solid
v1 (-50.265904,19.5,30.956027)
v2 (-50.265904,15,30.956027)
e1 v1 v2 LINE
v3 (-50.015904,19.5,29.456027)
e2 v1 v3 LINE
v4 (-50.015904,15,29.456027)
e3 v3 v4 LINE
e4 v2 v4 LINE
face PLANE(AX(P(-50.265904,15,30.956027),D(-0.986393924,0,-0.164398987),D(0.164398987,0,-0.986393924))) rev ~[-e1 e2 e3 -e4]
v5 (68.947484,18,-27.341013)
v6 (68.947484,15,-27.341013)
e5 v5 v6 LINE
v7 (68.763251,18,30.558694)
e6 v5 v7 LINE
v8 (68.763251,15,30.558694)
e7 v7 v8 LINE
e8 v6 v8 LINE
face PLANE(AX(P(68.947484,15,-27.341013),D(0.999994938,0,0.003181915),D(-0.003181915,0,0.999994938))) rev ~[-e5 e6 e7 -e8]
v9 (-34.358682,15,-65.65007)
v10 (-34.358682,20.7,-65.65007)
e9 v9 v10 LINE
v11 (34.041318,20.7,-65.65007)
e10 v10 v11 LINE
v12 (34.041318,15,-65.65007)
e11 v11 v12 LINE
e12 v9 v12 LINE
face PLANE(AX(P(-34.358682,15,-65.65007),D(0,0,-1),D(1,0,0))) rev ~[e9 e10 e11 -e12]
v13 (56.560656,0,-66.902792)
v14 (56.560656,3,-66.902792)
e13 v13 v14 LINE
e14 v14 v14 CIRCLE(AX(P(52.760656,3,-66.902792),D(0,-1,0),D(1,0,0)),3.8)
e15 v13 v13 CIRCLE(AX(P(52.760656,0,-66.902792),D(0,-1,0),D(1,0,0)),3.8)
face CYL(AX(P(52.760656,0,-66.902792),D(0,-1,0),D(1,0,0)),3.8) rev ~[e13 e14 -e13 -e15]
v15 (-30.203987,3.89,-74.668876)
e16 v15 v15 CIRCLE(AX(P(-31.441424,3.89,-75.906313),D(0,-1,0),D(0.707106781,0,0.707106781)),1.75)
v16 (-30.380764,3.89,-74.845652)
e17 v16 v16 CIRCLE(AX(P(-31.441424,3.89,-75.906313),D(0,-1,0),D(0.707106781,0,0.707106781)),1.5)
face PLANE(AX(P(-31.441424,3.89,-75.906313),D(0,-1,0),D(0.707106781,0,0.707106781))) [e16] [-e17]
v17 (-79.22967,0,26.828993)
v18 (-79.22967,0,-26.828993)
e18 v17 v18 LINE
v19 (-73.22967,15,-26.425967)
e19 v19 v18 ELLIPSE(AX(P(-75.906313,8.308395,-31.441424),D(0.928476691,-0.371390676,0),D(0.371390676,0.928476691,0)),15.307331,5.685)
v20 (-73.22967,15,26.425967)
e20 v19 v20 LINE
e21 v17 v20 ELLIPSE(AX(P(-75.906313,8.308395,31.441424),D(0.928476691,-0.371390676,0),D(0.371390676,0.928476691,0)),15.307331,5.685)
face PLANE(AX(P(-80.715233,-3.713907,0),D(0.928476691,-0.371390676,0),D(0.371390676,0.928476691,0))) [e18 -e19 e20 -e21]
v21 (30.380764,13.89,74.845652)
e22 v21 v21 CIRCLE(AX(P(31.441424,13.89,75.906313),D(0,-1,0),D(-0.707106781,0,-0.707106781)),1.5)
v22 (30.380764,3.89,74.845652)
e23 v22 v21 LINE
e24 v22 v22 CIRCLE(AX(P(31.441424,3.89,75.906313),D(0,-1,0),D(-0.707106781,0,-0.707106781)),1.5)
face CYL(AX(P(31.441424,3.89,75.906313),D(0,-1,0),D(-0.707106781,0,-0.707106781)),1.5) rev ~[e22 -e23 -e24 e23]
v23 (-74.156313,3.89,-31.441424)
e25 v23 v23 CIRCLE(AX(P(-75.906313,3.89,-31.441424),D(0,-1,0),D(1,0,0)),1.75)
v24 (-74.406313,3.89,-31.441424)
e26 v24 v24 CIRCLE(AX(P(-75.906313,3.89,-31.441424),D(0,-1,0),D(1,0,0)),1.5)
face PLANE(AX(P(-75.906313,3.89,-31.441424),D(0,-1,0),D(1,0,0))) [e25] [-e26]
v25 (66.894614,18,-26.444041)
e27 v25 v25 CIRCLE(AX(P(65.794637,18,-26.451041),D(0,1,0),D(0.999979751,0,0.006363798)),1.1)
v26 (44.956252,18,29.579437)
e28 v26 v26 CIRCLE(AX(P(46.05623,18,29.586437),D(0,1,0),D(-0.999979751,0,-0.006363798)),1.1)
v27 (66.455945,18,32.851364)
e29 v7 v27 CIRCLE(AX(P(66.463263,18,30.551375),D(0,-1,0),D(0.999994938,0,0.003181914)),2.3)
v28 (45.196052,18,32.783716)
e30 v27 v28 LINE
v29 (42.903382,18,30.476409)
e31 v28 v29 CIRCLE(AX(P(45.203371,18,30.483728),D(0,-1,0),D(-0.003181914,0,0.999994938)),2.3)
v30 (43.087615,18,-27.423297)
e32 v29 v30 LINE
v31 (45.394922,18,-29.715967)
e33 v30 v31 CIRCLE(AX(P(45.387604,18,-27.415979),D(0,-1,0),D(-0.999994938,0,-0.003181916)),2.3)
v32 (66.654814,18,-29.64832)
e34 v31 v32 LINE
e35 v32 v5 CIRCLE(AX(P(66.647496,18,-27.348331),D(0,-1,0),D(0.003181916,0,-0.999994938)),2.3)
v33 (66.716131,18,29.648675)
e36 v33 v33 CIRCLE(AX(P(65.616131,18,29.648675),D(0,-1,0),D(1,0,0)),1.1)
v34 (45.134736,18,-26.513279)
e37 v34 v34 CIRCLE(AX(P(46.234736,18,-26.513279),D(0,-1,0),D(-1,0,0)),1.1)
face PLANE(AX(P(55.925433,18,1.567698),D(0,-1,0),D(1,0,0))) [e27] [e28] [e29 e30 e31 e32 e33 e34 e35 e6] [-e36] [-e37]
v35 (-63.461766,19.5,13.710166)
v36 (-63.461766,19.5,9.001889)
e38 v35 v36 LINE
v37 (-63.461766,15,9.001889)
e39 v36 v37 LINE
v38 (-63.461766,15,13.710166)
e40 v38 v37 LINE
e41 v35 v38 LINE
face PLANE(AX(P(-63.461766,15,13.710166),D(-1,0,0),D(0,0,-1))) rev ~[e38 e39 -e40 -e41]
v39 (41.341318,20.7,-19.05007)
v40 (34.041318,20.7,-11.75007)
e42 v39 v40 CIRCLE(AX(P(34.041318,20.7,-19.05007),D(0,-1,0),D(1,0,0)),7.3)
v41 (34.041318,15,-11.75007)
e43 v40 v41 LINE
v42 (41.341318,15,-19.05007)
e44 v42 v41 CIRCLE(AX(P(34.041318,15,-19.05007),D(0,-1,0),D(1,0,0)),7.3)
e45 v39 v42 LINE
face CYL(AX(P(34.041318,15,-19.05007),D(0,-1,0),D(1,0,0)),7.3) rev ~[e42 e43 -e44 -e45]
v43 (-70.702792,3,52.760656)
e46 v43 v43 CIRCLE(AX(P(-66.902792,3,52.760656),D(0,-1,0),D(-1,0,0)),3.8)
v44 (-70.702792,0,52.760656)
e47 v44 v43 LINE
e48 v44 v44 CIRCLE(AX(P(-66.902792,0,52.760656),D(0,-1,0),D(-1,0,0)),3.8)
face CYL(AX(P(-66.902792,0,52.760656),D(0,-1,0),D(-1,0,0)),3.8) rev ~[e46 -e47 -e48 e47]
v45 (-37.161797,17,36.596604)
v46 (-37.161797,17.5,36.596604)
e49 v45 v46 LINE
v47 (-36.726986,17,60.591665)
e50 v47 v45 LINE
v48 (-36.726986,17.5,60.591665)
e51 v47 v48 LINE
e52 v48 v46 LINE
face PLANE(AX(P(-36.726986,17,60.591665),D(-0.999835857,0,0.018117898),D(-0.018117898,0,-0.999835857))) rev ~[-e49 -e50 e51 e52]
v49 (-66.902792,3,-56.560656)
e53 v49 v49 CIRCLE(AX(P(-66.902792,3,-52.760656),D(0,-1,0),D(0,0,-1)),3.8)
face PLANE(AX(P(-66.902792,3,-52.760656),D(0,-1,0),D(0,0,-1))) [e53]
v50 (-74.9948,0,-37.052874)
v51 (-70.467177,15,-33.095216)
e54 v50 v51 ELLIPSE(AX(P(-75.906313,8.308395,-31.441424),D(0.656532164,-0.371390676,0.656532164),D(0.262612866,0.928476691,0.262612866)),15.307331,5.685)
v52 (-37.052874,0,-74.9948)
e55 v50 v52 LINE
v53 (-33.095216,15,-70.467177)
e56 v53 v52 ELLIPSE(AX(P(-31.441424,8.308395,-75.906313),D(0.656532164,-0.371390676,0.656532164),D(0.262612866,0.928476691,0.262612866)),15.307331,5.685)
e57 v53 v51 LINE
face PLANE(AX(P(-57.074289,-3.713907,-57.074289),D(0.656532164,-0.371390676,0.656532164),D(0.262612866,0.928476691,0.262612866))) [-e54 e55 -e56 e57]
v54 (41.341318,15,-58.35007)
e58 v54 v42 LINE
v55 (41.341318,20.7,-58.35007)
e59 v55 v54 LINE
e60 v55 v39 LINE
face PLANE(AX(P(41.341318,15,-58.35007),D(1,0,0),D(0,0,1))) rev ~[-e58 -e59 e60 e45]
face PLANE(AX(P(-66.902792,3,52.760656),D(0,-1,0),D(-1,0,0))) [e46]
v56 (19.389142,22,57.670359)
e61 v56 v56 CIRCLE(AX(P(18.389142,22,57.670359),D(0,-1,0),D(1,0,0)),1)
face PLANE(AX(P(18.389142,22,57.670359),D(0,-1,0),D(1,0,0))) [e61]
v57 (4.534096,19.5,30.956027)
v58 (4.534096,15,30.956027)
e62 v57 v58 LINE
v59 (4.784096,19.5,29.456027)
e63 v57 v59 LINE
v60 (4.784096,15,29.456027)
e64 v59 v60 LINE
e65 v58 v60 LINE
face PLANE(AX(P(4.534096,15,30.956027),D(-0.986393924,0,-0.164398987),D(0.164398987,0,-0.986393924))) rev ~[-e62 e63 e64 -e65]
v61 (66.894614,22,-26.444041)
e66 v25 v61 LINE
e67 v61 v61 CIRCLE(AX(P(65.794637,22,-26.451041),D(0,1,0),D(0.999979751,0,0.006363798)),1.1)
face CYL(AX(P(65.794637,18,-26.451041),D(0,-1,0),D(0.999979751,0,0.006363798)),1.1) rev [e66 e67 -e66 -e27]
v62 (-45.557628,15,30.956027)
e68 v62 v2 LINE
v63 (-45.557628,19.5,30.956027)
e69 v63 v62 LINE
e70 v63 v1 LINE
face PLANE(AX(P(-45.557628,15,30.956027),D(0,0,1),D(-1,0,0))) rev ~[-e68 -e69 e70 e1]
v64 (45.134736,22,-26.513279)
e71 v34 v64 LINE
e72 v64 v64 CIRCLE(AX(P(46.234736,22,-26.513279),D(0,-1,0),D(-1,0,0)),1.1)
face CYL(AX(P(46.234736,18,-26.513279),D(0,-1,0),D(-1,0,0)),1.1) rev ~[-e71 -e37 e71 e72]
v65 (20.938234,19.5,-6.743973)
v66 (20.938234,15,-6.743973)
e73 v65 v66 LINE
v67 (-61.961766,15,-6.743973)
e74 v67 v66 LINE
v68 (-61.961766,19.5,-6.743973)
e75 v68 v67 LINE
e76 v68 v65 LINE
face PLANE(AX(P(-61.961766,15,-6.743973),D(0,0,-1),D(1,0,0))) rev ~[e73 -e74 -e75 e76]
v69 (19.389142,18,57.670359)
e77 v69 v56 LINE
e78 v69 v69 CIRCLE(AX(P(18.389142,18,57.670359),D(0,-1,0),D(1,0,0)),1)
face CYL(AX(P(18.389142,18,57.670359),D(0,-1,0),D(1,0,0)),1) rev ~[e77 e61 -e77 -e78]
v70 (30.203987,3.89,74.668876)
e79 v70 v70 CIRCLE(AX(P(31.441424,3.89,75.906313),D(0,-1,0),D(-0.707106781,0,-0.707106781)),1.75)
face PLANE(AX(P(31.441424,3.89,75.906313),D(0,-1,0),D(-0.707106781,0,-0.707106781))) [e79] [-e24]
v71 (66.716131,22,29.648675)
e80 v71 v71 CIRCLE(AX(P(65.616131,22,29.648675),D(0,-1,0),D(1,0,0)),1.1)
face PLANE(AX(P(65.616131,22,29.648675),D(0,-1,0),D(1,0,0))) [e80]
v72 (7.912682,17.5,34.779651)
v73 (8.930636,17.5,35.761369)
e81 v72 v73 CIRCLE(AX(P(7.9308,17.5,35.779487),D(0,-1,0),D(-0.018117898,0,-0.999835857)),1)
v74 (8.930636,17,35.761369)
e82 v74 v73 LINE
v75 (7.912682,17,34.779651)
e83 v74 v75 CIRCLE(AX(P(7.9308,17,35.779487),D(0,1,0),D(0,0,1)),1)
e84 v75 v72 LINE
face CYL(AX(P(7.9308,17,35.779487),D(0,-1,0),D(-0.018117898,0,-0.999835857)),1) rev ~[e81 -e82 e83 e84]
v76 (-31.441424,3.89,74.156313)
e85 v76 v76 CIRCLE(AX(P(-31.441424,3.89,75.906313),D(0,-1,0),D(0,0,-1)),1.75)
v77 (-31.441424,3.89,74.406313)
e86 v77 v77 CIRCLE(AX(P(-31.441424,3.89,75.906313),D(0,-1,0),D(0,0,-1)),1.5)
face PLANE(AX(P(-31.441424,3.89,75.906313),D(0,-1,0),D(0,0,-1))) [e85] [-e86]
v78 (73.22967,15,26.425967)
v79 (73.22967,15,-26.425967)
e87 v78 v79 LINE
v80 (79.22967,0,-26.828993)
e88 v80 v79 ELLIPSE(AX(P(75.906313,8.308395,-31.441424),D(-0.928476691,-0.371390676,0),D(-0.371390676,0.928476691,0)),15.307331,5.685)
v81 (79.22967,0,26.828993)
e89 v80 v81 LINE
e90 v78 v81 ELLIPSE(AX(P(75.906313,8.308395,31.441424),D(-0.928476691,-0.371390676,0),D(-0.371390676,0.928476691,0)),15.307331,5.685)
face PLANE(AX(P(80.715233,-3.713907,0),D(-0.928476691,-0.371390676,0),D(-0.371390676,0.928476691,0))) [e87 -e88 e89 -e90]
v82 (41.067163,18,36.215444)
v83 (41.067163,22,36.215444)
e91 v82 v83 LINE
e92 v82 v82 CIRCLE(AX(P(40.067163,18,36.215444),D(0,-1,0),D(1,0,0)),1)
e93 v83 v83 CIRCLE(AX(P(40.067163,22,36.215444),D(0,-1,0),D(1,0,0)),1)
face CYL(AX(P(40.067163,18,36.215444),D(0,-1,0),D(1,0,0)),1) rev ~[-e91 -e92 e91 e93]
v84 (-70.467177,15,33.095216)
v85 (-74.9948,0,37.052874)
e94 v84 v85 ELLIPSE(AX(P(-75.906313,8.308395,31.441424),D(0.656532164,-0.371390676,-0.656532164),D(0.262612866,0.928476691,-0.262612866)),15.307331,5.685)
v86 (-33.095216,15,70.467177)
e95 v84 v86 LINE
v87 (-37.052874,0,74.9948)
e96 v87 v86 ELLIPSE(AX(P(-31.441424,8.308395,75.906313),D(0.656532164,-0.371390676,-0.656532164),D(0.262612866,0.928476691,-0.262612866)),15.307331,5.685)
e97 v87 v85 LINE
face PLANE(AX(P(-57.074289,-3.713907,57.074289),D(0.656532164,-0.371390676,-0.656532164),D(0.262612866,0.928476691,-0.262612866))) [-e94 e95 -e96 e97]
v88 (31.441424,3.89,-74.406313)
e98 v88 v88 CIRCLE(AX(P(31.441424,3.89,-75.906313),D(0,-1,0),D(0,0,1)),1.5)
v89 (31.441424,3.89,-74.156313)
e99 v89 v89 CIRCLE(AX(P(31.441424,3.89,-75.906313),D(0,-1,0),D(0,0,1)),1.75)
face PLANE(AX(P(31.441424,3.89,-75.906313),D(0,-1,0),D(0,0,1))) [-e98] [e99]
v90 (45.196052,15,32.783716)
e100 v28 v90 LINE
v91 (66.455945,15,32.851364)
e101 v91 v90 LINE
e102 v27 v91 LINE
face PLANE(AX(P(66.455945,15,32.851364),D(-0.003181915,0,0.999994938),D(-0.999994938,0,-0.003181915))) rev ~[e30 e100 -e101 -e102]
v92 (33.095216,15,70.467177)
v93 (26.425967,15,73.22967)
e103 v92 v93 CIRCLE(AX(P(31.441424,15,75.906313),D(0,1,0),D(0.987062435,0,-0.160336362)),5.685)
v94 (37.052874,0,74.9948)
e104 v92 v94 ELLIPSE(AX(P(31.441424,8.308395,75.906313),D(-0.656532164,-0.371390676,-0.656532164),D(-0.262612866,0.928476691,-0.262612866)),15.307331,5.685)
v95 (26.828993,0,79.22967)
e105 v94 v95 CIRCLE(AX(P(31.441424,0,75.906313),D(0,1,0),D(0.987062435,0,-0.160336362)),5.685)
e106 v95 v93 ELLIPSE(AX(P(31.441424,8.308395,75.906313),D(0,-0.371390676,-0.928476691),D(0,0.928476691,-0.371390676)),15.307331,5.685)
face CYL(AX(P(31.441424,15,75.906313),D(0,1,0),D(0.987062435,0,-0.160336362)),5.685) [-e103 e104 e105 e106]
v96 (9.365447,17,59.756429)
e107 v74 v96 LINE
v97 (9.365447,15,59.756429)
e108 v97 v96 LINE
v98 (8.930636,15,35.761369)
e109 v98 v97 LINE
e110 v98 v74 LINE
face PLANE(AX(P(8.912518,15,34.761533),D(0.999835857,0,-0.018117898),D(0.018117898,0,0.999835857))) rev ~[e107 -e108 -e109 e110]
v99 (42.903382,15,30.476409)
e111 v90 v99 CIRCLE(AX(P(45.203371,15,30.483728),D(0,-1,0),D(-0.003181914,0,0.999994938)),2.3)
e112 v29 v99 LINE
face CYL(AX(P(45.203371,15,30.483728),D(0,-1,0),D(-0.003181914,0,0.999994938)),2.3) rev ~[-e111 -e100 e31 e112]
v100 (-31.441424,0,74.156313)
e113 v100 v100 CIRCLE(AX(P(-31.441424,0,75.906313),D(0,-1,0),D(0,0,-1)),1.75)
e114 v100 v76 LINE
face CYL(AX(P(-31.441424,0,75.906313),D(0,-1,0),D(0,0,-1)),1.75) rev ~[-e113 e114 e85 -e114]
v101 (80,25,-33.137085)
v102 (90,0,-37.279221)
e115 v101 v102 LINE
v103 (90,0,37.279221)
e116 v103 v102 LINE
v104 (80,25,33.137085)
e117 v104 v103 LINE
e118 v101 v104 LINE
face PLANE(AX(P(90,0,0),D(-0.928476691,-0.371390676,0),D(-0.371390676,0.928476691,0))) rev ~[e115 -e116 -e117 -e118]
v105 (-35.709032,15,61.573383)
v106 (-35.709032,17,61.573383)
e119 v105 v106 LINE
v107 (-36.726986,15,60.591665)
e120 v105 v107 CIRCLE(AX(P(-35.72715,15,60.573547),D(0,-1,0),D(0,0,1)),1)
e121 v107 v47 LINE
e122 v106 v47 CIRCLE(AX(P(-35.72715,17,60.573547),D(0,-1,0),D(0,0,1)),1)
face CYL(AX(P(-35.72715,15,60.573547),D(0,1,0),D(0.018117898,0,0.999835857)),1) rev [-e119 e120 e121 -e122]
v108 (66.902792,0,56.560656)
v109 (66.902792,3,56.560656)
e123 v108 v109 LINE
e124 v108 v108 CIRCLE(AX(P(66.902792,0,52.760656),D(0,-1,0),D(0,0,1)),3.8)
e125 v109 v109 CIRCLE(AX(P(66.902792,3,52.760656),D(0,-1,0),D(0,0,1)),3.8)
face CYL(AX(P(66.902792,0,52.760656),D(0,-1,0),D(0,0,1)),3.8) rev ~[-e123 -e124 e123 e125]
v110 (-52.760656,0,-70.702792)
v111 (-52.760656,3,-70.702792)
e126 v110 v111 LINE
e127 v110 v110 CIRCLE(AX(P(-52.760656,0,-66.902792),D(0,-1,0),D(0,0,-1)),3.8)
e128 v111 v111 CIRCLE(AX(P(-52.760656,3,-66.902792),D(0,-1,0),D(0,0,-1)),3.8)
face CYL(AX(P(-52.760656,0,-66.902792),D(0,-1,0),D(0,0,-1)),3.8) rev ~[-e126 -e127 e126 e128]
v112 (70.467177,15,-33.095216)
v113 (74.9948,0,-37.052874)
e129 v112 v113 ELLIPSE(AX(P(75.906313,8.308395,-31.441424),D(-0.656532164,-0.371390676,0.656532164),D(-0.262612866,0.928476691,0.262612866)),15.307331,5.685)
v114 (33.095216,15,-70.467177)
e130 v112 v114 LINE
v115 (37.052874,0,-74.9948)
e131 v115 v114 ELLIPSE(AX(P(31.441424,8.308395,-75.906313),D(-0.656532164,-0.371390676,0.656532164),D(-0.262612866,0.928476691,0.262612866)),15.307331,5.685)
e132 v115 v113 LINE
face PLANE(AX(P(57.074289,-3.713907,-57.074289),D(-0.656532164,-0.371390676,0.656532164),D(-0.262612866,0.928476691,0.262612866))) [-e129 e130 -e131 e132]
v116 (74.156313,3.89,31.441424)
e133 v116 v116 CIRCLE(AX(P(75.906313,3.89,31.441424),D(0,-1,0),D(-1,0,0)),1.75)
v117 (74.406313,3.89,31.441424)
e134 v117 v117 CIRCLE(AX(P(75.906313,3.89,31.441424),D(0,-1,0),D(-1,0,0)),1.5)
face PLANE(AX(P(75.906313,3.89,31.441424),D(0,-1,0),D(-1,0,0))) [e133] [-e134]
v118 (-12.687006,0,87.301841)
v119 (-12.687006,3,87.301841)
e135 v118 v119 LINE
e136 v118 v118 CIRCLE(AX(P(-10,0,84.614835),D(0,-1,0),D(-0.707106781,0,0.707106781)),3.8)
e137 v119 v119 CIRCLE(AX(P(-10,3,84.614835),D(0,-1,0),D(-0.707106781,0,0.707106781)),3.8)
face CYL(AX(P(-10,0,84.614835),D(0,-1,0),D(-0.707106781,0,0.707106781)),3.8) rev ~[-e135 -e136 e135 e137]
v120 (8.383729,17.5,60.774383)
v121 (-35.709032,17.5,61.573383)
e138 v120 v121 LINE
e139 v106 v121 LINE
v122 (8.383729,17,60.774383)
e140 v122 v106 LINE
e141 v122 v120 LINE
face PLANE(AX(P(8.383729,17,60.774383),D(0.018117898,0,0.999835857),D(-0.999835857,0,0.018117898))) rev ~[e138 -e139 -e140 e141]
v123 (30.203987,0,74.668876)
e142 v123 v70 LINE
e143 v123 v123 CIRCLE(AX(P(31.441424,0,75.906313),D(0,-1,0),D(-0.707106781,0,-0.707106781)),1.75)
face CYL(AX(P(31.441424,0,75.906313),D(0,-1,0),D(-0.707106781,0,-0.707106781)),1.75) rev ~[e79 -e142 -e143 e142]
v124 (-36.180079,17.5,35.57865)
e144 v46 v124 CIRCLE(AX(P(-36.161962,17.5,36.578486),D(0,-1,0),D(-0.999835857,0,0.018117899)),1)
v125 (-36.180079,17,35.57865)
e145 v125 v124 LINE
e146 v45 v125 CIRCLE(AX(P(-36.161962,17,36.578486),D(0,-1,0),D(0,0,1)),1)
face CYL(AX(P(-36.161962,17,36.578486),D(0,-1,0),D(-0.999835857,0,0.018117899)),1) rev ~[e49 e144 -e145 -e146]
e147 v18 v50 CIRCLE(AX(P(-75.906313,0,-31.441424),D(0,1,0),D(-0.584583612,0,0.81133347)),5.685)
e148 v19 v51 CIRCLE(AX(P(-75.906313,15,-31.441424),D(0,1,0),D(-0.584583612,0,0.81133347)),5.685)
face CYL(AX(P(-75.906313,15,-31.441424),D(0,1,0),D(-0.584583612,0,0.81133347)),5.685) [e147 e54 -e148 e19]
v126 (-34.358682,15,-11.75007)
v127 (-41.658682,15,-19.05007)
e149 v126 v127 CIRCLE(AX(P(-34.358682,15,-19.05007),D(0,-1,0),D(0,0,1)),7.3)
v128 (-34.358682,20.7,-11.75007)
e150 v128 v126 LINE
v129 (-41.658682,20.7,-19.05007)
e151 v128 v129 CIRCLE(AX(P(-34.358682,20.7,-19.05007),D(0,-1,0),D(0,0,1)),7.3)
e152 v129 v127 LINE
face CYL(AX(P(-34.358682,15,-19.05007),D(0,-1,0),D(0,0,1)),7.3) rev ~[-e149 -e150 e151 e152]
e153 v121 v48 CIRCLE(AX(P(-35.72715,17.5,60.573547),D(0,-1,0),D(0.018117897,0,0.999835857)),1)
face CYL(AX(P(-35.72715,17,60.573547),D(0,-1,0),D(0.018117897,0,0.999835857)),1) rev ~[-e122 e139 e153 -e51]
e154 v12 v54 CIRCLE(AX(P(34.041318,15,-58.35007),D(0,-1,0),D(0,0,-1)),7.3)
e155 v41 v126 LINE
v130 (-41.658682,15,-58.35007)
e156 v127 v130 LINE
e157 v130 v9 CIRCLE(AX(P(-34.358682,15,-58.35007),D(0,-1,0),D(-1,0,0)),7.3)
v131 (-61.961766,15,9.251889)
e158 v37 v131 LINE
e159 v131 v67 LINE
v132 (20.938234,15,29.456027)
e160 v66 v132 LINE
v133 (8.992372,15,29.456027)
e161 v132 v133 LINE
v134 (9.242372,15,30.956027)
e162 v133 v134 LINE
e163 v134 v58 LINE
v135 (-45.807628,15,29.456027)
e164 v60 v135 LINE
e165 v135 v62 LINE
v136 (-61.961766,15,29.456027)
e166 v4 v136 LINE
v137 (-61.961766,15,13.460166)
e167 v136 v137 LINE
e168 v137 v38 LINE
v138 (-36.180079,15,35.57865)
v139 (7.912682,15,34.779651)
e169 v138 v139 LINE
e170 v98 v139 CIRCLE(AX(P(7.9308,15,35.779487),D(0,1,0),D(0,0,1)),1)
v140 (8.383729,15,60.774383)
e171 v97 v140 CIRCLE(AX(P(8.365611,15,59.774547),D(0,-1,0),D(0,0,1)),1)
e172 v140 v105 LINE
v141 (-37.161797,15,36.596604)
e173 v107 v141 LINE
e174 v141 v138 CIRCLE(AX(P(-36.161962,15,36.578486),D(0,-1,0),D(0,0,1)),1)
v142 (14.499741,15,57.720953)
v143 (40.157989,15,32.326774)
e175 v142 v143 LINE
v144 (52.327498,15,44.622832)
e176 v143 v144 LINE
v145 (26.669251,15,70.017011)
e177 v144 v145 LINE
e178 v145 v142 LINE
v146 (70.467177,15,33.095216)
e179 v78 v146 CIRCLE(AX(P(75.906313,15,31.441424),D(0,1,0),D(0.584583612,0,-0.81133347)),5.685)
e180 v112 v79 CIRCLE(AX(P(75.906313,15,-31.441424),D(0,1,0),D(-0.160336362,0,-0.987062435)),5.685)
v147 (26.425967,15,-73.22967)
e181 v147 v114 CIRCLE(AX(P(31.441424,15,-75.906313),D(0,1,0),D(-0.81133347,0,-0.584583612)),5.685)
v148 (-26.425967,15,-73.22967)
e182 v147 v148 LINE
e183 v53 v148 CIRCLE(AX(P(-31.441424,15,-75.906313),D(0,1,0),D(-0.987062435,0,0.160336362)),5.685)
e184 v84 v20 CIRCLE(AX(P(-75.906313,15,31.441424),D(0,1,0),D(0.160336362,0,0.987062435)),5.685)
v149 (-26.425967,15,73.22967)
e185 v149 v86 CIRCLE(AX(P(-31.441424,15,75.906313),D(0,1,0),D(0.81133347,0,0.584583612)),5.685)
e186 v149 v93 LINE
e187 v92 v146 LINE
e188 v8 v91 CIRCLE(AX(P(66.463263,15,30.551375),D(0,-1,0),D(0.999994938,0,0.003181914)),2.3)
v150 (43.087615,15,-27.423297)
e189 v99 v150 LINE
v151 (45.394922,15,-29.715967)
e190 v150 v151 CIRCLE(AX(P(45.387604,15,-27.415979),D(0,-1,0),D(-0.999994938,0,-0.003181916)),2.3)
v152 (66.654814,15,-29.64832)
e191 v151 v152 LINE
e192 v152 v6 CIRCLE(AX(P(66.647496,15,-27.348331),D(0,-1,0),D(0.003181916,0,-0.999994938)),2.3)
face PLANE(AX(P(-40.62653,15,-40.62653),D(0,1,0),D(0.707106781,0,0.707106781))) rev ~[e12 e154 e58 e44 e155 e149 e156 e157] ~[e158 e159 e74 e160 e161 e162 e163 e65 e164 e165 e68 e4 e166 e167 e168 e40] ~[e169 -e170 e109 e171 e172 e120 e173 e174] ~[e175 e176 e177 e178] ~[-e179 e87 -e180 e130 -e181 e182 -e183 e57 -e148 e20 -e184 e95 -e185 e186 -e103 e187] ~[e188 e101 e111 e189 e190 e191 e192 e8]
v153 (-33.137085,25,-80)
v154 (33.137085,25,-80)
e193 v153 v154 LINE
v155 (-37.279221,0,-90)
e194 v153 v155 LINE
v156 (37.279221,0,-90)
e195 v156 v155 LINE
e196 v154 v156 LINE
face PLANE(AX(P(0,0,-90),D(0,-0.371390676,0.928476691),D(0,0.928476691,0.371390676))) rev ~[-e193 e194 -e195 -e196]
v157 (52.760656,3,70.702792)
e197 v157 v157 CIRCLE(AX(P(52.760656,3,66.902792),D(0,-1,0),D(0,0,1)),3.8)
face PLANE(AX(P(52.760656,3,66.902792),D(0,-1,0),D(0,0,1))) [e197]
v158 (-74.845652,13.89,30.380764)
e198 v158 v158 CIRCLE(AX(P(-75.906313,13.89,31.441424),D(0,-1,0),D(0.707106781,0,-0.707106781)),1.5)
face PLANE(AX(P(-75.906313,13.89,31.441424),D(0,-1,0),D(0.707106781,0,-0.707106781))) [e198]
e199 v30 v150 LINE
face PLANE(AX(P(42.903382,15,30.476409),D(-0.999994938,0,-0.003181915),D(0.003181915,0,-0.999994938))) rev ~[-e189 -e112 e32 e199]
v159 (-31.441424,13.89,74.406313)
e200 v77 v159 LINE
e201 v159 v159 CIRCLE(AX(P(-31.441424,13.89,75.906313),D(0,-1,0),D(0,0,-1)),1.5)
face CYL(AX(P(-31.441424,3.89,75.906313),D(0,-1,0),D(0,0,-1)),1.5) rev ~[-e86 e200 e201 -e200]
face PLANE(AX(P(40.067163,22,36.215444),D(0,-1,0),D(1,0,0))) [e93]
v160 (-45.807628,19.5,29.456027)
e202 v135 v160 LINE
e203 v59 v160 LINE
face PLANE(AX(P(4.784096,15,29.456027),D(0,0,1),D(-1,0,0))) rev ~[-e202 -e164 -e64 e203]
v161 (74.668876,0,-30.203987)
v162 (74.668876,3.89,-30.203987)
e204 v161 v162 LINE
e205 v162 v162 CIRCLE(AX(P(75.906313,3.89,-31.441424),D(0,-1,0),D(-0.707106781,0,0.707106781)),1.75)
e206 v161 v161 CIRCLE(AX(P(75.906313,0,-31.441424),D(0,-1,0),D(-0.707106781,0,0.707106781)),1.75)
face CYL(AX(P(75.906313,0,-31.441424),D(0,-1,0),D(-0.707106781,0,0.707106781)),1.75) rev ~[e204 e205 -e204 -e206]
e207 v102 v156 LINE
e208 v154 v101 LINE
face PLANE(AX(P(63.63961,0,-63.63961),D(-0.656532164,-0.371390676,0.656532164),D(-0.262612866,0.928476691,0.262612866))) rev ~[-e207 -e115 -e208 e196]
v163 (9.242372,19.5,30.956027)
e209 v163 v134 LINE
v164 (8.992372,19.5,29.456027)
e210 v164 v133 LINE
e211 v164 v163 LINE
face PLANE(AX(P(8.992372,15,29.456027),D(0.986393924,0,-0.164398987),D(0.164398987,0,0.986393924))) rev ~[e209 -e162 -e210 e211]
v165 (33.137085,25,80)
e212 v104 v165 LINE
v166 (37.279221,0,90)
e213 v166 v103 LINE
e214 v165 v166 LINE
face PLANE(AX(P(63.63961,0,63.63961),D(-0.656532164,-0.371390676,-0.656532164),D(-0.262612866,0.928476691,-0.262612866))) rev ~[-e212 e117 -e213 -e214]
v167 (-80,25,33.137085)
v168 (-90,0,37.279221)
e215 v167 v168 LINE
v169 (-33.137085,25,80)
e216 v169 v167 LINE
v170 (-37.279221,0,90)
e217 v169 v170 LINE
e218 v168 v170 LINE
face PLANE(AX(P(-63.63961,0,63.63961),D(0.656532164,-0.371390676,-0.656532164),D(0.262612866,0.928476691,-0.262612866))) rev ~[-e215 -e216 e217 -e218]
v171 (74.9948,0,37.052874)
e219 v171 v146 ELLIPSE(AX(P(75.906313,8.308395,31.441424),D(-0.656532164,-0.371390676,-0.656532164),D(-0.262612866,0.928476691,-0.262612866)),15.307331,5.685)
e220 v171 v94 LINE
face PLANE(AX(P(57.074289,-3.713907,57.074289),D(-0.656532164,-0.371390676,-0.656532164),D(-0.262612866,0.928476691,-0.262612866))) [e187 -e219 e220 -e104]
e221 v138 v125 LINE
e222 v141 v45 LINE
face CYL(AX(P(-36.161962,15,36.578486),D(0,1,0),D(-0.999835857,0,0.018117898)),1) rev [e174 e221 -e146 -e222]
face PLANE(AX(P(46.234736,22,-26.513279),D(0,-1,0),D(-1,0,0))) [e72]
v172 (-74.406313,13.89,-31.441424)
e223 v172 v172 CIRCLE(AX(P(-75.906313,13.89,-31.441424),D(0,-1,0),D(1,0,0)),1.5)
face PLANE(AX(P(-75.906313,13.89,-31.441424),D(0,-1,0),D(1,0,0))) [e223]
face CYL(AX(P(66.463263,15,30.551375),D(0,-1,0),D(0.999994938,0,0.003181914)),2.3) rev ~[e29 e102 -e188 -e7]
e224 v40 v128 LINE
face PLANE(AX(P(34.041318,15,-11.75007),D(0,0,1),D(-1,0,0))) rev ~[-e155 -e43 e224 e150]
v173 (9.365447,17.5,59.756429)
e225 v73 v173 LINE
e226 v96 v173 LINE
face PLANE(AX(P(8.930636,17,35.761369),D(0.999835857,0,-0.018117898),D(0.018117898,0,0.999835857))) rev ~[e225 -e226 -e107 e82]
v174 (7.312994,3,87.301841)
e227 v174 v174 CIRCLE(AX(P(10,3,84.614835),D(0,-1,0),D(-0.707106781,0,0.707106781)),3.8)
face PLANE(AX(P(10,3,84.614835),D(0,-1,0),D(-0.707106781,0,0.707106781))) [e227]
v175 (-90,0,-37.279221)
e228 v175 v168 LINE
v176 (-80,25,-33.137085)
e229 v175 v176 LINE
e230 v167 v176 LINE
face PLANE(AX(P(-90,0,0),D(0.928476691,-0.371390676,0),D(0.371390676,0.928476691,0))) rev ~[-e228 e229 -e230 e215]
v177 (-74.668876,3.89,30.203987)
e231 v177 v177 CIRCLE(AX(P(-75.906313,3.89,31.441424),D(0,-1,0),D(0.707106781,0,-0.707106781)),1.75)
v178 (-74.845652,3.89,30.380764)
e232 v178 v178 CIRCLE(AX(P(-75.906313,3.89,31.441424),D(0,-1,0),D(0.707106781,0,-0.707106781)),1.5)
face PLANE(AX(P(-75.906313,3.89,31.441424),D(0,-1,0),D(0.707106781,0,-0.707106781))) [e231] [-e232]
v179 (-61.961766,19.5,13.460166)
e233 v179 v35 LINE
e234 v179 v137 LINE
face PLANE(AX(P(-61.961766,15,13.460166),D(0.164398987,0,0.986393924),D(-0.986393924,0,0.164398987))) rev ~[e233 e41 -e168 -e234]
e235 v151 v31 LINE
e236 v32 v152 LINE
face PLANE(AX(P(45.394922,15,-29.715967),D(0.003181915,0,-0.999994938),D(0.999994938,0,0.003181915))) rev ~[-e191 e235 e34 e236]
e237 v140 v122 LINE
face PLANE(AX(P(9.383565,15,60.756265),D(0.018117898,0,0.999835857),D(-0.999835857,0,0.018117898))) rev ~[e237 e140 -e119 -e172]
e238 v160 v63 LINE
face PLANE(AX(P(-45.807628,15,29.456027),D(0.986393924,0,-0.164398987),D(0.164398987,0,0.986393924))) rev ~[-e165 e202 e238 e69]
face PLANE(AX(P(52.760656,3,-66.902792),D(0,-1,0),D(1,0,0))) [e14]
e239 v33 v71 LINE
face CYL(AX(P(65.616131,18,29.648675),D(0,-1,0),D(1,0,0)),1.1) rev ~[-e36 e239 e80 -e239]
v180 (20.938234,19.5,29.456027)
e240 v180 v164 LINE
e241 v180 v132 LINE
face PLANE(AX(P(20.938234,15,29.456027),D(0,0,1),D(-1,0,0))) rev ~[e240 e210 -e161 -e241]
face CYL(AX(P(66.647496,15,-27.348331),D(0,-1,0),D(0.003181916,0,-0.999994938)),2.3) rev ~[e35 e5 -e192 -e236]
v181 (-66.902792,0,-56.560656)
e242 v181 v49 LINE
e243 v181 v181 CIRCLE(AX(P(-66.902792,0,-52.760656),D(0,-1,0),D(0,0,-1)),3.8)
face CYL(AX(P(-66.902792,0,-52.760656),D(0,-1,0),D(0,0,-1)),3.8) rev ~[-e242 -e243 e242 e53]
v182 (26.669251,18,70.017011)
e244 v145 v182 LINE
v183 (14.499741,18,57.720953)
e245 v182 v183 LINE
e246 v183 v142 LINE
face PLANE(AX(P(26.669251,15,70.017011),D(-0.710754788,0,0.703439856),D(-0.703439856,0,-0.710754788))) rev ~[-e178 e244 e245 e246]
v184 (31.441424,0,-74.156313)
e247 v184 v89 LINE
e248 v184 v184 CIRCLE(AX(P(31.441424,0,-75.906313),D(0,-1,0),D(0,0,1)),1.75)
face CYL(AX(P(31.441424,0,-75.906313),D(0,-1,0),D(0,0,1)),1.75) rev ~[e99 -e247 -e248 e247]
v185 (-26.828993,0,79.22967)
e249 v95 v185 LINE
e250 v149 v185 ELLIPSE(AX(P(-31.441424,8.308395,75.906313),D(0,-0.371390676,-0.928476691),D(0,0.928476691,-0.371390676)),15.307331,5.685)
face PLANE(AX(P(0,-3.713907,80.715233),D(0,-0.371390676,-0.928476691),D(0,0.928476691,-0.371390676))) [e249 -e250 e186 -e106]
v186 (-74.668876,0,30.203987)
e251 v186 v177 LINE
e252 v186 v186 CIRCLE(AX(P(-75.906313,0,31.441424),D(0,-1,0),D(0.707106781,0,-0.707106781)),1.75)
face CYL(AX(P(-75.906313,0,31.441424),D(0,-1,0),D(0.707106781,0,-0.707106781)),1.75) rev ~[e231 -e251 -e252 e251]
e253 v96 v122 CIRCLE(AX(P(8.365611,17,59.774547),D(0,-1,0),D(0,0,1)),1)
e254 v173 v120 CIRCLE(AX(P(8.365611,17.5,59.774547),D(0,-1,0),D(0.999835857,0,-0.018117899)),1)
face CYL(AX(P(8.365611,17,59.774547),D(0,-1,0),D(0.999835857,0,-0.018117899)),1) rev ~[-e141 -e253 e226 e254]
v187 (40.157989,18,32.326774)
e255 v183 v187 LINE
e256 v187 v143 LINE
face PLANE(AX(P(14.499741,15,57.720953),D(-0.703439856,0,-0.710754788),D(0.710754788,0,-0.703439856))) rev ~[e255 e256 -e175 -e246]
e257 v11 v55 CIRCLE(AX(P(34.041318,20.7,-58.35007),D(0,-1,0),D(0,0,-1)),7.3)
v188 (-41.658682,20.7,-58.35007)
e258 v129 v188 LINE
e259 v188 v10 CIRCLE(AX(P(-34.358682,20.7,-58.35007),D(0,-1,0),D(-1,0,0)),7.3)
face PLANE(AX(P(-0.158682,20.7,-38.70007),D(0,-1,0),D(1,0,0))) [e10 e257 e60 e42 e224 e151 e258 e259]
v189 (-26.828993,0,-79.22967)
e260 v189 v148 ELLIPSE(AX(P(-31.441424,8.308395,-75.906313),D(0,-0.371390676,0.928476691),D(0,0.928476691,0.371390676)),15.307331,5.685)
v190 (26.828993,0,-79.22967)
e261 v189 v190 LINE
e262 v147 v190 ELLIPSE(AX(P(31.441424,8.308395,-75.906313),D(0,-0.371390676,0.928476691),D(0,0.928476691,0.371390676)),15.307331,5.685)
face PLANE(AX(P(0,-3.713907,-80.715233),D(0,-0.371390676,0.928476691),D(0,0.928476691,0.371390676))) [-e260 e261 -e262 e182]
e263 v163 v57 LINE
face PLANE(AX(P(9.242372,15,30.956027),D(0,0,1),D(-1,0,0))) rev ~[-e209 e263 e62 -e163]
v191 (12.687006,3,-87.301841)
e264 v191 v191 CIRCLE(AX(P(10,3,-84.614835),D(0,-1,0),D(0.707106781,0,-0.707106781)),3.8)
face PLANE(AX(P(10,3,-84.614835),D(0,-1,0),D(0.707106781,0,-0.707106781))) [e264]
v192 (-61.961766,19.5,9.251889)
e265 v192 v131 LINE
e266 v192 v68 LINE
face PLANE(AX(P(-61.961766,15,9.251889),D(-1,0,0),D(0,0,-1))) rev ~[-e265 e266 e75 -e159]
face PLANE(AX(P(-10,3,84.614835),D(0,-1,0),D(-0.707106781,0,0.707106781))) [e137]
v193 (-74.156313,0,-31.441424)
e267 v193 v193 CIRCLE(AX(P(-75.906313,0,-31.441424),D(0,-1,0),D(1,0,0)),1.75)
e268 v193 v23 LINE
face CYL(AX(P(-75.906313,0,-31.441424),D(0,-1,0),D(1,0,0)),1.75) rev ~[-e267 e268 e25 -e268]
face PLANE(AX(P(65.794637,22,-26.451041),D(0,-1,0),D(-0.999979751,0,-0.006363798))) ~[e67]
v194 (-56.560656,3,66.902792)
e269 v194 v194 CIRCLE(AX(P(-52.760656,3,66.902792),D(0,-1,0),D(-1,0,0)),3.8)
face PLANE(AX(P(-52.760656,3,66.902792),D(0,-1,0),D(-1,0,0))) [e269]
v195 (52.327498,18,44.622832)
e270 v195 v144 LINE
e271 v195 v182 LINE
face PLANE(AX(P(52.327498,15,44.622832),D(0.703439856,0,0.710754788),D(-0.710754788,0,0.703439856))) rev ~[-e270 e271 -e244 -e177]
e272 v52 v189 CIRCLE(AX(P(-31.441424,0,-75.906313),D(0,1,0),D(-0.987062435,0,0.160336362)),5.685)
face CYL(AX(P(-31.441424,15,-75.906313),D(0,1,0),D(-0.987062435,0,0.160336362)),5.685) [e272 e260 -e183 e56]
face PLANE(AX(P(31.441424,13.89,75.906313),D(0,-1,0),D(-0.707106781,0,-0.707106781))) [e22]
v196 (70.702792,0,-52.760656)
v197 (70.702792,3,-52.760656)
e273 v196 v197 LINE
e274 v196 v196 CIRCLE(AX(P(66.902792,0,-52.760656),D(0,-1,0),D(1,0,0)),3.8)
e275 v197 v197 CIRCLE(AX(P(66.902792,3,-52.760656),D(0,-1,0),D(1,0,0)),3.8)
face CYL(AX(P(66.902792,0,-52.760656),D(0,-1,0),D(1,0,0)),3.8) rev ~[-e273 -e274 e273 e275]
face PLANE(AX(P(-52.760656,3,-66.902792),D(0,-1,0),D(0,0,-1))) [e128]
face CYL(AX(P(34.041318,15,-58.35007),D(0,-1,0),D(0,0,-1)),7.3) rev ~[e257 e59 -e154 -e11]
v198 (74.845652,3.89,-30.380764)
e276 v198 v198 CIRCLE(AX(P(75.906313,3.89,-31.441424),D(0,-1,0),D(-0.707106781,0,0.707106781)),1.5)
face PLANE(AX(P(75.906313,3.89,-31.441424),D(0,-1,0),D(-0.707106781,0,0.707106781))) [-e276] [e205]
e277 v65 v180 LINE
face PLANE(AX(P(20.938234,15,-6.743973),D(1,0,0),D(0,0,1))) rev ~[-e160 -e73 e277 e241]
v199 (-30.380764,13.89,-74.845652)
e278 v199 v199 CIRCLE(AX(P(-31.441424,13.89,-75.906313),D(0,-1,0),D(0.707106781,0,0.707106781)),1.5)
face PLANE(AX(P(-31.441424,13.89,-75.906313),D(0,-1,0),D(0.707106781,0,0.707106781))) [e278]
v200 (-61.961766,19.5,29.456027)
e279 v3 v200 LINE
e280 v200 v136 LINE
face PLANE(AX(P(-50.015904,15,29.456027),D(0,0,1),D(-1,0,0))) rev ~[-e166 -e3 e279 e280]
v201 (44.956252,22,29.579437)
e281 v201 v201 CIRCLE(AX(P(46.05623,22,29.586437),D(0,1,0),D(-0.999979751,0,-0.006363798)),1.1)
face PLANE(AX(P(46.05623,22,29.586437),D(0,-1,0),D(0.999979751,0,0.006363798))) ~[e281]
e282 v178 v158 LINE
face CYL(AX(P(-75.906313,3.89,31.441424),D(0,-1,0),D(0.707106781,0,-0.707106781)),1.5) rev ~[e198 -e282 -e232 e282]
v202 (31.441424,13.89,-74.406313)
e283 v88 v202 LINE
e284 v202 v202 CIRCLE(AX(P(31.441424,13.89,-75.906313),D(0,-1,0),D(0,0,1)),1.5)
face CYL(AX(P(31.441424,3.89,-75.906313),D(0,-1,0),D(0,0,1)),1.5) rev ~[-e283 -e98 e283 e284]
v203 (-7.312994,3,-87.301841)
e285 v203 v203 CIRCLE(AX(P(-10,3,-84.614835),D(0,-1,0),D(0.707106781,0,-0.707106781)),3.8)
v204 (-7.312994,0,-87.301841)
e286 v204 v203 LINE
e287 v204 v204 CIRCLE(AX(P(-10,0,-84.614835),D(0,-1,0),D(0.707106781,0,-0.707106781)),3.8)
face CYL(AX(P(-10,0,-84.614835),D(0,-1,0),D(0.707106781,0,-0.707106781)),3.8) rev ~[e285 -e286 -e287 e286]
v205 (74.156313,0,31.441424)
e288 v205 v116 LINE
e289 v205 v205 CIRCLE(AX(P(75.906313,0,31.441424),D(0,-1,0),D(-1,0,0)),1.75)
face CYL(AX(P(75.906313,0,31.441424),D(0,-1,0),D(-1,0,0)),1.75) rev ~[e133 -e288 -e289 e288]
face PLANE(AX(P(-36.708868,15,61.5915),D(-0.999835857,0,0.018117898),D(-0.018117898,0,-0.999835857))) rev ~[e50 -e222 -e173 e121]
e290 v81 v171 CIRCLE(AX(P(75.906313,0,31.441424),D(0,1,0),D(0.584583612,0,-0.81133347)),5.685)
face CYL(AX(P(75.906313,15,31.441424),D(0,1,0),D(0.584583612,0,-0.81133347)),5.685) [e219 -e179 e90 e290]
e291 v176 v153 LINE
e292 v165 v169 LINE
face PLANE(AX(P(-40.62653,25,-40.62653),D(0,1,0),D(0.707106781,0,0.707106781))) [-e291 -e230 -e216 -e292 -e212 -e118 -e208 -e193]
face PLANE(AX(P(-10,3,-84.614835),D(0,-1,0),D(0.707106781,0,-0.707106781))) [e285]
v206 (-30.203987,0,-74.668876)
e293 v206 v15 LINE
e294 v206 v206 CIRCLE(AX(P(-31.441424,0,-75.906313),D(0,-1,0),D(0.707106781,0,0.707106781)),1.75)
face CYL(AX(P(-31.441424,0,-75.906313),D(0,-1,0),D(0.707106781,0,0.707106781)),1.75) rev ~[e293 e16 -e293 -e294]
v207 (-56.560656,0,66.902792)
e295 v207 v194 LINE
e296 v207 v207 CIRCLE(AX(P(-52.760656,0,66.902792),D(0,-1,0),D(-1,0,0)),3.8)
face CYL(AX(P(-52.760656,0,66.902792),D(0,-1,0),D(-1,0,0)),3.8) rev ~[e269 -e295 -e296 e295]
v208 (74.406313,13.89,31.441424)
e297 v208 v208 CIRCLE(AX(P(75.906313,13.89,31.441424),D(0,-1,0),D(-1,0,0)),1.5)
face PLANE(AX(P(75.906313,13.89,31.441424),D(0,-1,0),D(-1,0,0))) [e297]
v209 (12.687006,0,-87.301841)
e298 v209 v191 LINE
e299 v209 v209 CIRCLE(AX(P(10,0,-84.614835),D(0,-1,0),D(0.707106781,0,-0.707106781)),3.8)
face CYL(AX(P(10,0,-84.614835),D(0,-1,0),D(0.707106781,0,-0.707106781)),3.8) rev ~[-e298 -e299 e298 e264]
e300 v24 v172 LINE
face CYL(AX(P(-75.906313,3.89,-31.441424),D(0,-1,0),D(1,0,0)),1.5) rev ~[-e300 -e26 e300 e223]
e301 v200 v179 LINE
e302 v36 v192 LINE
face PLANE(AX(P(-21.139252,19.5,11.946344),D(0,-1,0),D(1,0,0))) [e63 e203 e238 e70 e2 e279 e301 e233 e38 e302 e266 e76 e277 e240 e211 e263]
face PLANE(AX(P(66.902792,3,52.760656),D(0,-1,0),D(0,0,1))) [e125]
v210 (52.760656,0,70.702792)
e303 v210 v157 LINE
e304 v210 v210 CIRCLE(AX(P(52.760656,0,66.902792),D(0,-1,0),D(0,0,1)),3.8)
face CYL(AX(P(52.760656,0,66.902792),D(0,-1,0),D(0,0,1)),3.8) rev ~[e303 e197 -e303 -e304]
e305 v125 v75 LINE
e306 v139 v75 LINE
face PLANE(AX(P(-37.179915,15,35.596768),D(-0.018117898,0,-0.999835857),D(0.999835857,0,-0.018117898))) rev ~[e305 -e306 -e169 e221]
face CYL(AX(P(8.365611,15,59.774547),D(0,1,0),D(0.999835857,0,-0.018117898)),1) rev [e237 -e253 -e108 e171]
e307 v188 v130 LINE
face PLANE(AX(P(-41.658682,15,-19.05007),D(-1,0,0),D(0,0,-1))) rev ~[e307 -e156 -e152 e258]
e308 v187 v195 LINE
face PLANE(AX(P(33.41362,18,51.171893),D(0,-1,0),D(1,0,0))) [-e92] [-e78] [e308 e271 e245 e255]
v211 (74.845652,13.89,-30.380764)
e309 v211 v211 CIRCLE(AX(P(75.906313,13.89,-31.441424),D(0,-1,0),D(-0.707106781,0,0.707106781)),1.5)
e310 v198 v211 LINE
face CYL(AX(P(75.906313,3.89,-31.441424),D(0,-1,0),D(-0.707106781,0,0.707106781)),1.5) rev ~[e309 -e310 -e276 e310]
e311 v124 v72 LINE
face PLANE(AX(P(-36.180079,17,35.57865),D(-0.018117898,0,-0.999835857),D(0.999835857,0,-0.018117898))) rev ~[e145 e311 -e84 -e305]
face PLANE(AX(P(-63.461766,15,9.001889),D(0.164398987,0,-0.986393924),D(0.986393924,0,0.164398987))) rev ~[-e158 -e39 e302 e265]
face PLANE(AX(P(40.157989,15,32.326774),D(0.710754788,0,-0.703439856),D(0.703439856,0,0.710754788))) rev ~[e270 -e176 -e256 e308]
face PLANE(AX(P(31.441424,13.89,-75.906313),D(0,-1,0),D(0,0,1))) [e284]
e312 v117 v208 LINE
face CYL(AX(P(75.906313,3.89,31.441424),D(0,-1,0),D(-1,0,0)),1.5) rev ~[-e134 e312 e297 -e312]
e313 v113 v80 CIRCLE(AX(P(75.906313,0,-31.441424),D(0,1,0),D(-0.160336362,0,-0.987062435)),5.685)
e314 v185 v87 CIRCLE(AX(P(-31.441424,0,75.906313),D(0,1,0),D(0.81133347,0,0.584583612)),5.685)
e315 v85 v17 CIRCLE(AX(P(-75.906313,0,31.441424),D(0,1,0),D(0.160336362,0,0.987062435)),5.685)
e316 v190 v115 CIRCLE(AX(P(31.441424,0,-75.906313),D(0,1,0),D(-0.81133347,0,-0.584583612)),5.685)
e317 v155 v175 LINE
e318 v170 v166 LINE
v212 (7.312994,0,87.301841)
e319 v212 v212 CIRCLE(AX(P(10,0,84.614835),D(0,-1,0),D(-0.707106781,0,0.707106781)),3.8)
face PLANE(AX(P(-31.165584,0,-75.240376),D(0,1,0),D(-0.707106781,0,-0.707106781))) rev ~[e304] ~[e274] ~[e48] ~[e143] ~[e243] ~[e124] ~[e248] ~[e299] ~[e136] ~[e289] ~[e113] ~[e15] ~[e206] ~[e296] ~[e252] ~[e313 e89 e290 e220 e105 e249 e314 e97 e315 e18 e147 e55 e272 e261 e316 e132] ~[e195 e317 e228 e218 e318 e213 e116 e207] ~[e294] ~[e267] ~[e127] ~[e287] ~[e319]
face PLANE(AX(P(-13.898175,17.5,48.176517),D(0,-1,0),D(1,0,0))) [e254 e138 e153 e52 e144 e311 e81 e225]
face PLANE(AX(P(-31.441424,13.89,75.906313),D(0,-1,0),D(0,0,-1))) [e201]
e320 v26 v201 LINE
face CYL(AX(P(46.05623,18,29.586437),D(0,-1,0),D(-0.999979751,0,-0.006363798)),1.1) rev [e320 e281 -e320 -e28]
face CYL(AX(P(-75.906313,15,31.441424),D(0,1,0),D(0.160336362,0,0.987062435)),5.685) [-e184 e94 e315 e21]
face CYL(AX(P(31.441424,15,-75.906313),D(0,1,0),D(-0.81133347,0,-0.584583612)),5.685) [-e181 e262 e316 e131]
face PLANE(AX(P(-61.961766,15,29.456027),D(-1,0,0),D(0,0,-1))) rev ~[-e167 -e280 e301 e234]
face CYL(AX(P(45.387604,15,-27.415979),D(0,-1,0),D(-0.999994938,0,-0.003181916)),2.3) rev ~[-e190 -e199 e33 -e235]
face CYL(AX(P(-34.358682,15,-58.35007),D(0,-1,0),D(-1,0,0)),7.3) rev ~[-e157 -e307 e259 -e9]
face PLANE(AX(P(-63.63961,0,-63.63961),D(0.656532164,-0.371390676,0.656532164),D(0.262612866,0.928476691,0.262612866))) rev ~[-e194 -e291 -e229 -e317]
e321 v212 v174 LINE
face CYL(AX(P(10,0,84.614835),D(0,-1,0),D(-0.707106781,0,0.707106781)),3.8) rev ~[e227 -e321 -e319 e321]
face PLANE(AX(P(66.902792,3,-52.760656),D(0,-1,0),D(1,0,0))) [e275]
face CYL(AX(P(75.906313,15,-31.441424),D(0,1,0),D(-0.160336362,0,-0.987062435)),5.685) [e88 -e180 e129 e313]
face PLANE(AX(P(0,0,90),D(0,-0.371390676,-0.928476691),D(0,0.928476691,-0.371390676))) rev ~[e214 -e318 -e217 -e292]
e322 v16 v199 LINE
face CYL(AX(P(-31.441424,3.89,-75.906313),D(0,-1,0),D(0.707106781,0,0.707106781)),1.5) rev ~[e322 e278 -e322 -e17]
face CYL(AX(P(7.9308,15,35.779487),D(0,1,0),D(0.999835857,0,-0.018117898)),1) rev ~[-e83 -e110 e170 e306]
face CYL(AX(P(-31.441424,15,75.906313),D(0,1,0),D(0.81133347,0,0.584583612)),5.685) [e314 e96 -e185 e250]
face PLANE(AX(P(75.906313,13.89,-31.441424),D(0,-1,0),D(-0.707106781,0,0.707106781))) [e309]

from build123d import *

# Parameters (mm, degrees)
BOSS_EXTRUDE1_DEPTH     = 25
CUT_EXTRUDE1_DEPTH      = 38.279220614
CIRPATTERN1_COUNT       = 8
SHELL2_T                = -10
BOSS_EXTRUDE2_DEPTH     = 15
SKETCH8_R               = 1.75
CUT_EXTRUDE3_DEPTH      = 3.89
SKETCH10_R              = 1.5
CUT_EXTRUDE5_DEPTH      = 10
CIRPATTERN2_COUNT       = 8
CUT_EXTRUDE7_DEPTH      = 2
CUT_EXTRUDE8_DEPTH      = 3.7
FILLET1_R               = 1
CUT_EXTRUDE9_DEPTH      = 1
SKETCH15_R              = 1.1
CUT_EXTRUDE11_DEPTH     = 4
MIRROR2_COPY_1_SKETCH_R = 1.1
MIRROR2_COPY_1_DEPTH    = 4
CUT_EXTRUDE12_DEPTH     = 2.5
SKETCH17_R              = 1
CUT_EXTRUDE13_DEPTH     = 4
CUT_EXTRUDE14_DEPTH     = 0.5
SKETCH19_R              = 3.8
CUT_EXTRUDE15_DEPTH     = 3
CIRPATTERN3_COUNT       = 8


with BuildPart() as part:
    # Sketch3 → Boss-Extrude1 (new body)
    with BuildSketch(Plane(origin=(0, 0, 0), x_dir=(1, 0, 0), z_dir=(0, 1, 0))):
        Polygon((-90, 37.279220614), (-90, -37.279220614), (0, 0), align=None)
    boss_extrude1 = extrude(amount=BOSS_EXTRUDE1_DEPTH)

    # Sketch4 → Cut-Extrude1 (cut, symmetric)
    with BuildSketch(Plane.XY):
        Polygon((-90, 25), (-90, 0), (-80, 25), align=None)
    cut_extrude1 = extrude(amount=CUT_EXTRUDE1_DEPTH, both=True, mode=Mode.SUBTRACT)

    # CirPattern1: Boss-Extrude1, Cut-Extrude1 ×8 about axis
    cirpattern1_axis = Axis((0, 0, 0), (0, 1, 0))
    for i in range(1, CIRPATTERN1_COUNT):
        add(boss_extrude1.rotate(cirpattern1_axis, i * 360 / CIRPATTERN1_COUNT))
        add(cut_extrude1.rotate(cirpattern1_axis, i * 360 / CIRPATTERN1_COUNT), mode=Mode.SUBTRACT)

    # Shell2
    shell2_openings = [part.faces().sort_by_distance(p)[0] for p in [
        (0, 0, 0),
    ]]
    offset(amount=SHELL2_T, openings=shell2_openings, kind=Kind.INTERSECTION)

    # Sketch5 → Boss-Extrude2 (add)
    with BuildSketch(Plane.XZ.offset(-15)):
        with BuildLine():
            Line((-79.229670386, -32.818004016), (-79.229670386, -26.828993349))
            ThreePointArc((-79.229670386, -26.828993349), (-70.654057407, -29.265868815), (-74.99480033, -37.052874072))
            Line((-74.99480033, -37.052874072), (-79.229670386, -32.818004016))
        make_face()
    boss_extrude2 = extrude(amount=BOSS_EXTRUDE2_DEPTH)

    # Sketch8 → Cut-Extrude3 (cut)
    with BuildSketch(Plane.XZ):
        with Locations((-75.906312549, -31.441424128)):
            Circle(SKETCH8_R)
    cut_extrude3 = extrude(amount=-CUT_EXTRUDE3_DEPTH, mode=Mode.SUBTRACT)

    # Sketch10 → Cut-Extrude5 (cut)
    with BuildSketch(Plane.XZ.offset(-3.89)):
        with Locations((-75.906312549, -31.441424128)):
            Circle(SKETCH10_R)
    cut_extrude5 = extrude(amount=-CUT_EXTRUDE5_DEPTH, mode=Mode.SUBTRACT)

    # CirPattern2: Boss-Extrude2, Cut-Extrude3, Cut-Extrude5 ×8 about axis
    cirpattern2_axis = Axis((0, 0, 0), (0, 1, 0))
    for i in range(1, CIRPATTERN2_COUNT):
        add(boss_extrude2.rotate(cirpattern2_axis, i * 360 / CIRPATTERN2_COUNT))
        add(cut_extrude3.rotate(cirpattern2_axis, i * 360 / CIRPATTERN2_COUNT), mode=Mode.SUBTRACT)
        add(cut_extrude5.rotate(cirpattern2_axis, i * 360 / CIRPATTERN2_COUNT), mode=Mode.SUBTRACT)

    # Sketch11 → Cut-Extrude7 (cut)
    with BuildSketch(Plane.XZ.offset(-15)):
        with BuildLine():
            Line((-34.358681844, -65.650070064), (34.041318156, -65.650070064))
            ThreePointArc((34.041318156, -65.650070064), (39.203197659, -63.511949566), (41.341318156, -58.350070064))
            Line((41.341318156, -58.350070064), (41.341318156, -19.050070064))
            ThreePointArc((41.341318156, -19.050070064), (39.203197659, -13.888190561), (34.041318156, -11.750070064))
            Line((34.041318156, -11.750070064), (-34.358681844, -11.750070064))
            ThreePointArc((-34.358681844, -11.750070064), (-39.520561346, -13.888190561), (-41.658681844, -19.050070064))
            Line((-41.658681844, -19.050070064), (-41.658681844, -58.350070064))
            ThreePointArc((-41.658681844, -58.350070064), (-39.520561346, -63.511949566), (-34.358681844, -65.650070064))
        make_face()
        Polygon((26.669250561, 70.01701088), (14.499741046, 57.72095305), (40.157988887, 32.326774235), (52.327498403, 44.622832065), align=None)
        Polygon((-45.807628052, 29.456027416), (-45.557628052, 30.956027416), (-50.265904305, 30.956027416), (-50.015904305, 29.456027416), (-61.961766178, 29.456027416), (-61.961766178, 13.460165542), (-63.461766178, 13.710165542), (-63.461766178, 9.001889289), (-61.961766178, 9.251889289), (-61.961766178, -6.743972584), (20.938233822, -6.743972584), (20.938233822, 10.356027416), (20.938233822, 10.513250754), (20.938233822, 12.198804078), (20.938233822, 12.356027416), (20.938233822, 29.456027416), (8.992371948, 29.456027416), (9.242371948, 30.956027416), (4.534095695, 30.956027416), (4.784095695, 29.456027416), align=None)
        with BuildLine():
            Line((45.394921968, -29.715967357), (66.654814344, -29.648319841))
            ThreePointArc((66.654814344, -29.648319841), (68.279008196, -28.969493954), (68.947484296, -27.341013079))
            Line((68.947484296, -27.341013079), (68.763251409, 30.558693813))
            ThreePointArc((68.763251409, 30.558693813), (68.084425523, 32.182887666), (66.455944648, 32.851363765))
            Line((66.455944648, 32.851363765), (45.196052273, 32.783716249))
            ThreePointArc((45.196052273, 32.783716249), (43.57185842, 32.104890363), (42.903382321, 30.476409488))
            Line((42.903382321, 30.476409488), (43.087615207, -27.423297405))
            ThreePointArc((43.087615207, -27.423297405), (43.766441094, -29.047491257), (45.394921968, -29.715967357))
        make_face()
        Polygon((8.912517718, 34.761532869), (9.383564949, 60.756265326), (-36.708868078, 61.591500425), (-37.179915309, 35.596767968), align=None)
    extrude(amount=-CUT_EXTRUDE7_DEPTH, mode=Mode.SUBTRACT)

    # Sketch13 → Cut-Extrude8 (cut)
    with BuildSketch(Plane.XZ.offset(-17)):
        with BuildLine():
            Line((34.041318156, -11.750070064), (-34.358681844, -11.750070064))
            ThreePointArc((-34.358681844, -11.750070064), (-39.520561346, -13.888190561), (-41.658681844, -19.050070064))
            Line((-41.658681844, -19.050070064), (-41.658681844, -58.350070064))
            ThreePointArc((-41.658681844, -58.350070064), (-39.520561346, -63.511949566), (-34.358681844, -65.650070064))
            Line((-34.358681844, -65.650070064), (34.041318156, -65.650070064))
            ThreePointArc((34.041318156, -65.650070064), (39.203197659, -63.511949566), (41.341318156, -58.350070064))
            Line((41.341318156, -58.350070064), (41.341318156, -19.050070064))
            ThreePointArc((41.341318156, -19.050070064), (39.203197659, -13.888190561), (34.041318156, -11.750070064))
        make_face()
    extrude(amount=-CUT_EXTRUDE8_DEPTH, mode=Mode.SUBTRACT)

    # Fillet1
    fillet1_edges = [part.edges().sort_by_distance(p)[0] for p in [
        (8.912517718, 16, 34.761532869),
        (-37.179915309, 16, 35.596767968),
        (-36.708868078, 16, 61.591500425),
        (9.383564949, 16, 60.756265326),
    ]]
    fillet(fillet1_edges, radius=FILLET1_R)

    # Sketch14 → Cut-Extrude9 (cut)
    with BuildSketch(Plane.XZ.offset(-17)):
        with BuildLine():
            Line((45.394921968, -29.715967357), (66.654814344, -29.648319841))
            ThreePointArc((66.654814344, -29.648319841), (68.279008196, -28.969493954), (68.947484296, -27.341013079))
            Line((68.947484296, -27.341013079), (68.763251409, 30.558693813))
            ThreePointArc((68.763251409, 30.558693813), (68.084425523, 32.182887666), (66.455944648, 32.851363765))
            Line((66.455944648, 32.851363765), (45.196052273, 32.783716249))
            ThreePointArc((45.196052273, 32.783716249), (43.57185842, 32.104890363), (42.903382321, 30.476409488))
            Line((42.903382321, 30.476409488), (43.087615207, -27.423297405))
            ThreePointArc((43.087615207, -27.423297405), (43.766441094, -29.047491257), (45.394921968, -29.715967357))
        make_face()
        Polygon((52.327498403, 44.622832065), (26.669250561, 70.01701088), (14.499741046, 57.72095305), (40.157988887, 32.326774235), align=None)
    extrude(amount=-CUT_EXTRUDE9_DEPTH, mode=Mode.SUBTRACT)

    # Sketch15 → Cut-Extrude11 (cut)
    with BuildSketch(Plane.XZ.offset(-18)):
        with Locations((65.616131079, 29.648675337)):
            Circle(SKETCH15_R)
    cut_extrude11 = extrude(amount=-CUT_EXTRUDE11_DEPTH, mode=Mode.SUBTRACT)

    # Mirror1: Cut-Extrude11 across plane
    add(cut_extrude11.mirror(Plane(origin=(-0.004422036, 0, 1.38973325), x_dir=(0.999994938, 0, 0.003181915), z_dir=(0.003181915, 0, -0.999994938))), mode=Mode.SUBTRACT)

    # Mirror2: Cut-Extrude11 across plane
    add(cut_extrude11.mirror(Plane(origin=(55.929855344, 0, 0.177964954), x_dir=(-0.003181915, 0, 0.999994938), z_dir=(-0.999994938, 0, -0.003181915))), mode=Mode.SUBTRACT)

    # Mirror2 copy 1 sketch → Mirror2 copy 1 (cut)
    with BuildSketch(Plane(origin=(111.850866616, 18, 3.135396408), x_dir=(-1, 0, 0), z_dir=(0, -1, 0))):
        with Locations((65.616131079, 29.648675337)):
            Circle(MIRROR2_COPY_1_SKETCH_R)
    extrude(amount=-MIRROR2_COPY_1_DEPTH, mode=Mode.SUBTRACT)

    # Sketch16 → Cut-Extrude12 (cut)
    with BuildSketch(Plane.XZ.offset(-17)):
        Polygon((4.784095695, 29.456027416), (-45.807628052, 29.456027416), (-45.557628052, 30.956027416), (-50.265904305, 30.956027416), (-50.015904305, 29.456027416), (-61.961766178, 29.456027416), (-61.961766178, 13.460165542), (-63.461766178, 13.710165542), (-63.461766178, 9.001889289), (-61.961766178, 9.251889289), (-61.961766178, -6.743972584), (20.938233822, -6.743972584), (20.938233822, 29.456027416), (8.992371948, 29.456027416), (9.242371948, 30.956027416), (4.534095695, 30.956027416), align=None)
    extrude(amount=-CUT_EXTRUDE12_DEPTH, mode=Mode.SUBTRACT)

    # Sketch17 → Cut-Extrude13 (cut)
    with BuildSketch(Plane.XZ.offset(-18)):
        with Locations((18.389142064, 57.67035938)):
            Circle(SKETCH17_R)
        with Locations((40.067163093, 36.21544376)):
            Circle(SKETCH17_R)
    extrude(amount=-CUT_EXTRUDE13_DEPTH, mode=Mode.SUBTRACT)

    # Sketch18 → Cut-Extrude14 (cut)
    with BuildSketch(Plane.XZ.offset(-17)):
        with BuildLine():
            Line((8.930635616, 35.761368726), (9.365447051, 59.756429468))
            ThreePointArc((9.365447051, 59.756429468), (9.085413197, 60.468726793), (8.383729092, 60.774383224))
            Line((8.383729092, 60.774383224), (-35.70903222, 61.573382527))
            ThreePointArc((-35.70903222, 61.573382527), (-36.421329544, 61.293348673), (-36.726985976, 60.591664568))
            Line((-36.726985976, 60.591664568), (-37.16179741, 36.596603826))
            ThreePointArc((-37.16179741, 36.596603826), (-36.881763556, 35.884306501), (-36.180079451, 35.57865007))
            Line((-36.180079451, 35.57865007), (7.912681861, 34.779650767))
            ThreePointArc((7.912681861, 34.779650767), (8.624979185, 35.059684621), (8.930635616, 35.761368726))
        make_face()
    extrude(amount=-CUT_EXTRUDE14_DEPTH, mode=Mode.SUBTRACT)

    # Sketch19 → Cut-Extrude15 (cut)
    with BuildSketch(Plane.XZ):
        with Locations((52.760655942, -66.902791566)):
            Circle(SKETCH19_R)
        with Locations((66.902791566, -52.760655942)):
            Circle(SKETCH19_R)
    cut_extrude15 = extrude(amount=-CUT_EXTRUDE15_DEPTH, mode=Mode.SUBTRACT)

    # CirPattern3: Cut-Extrude15 ×8 about axis, 2 skipped
    cirpattern3_axis = Axis((0, 0, 0), (0, 1, 0))
    add([cut_extrude15.rotate(cirpattern3_axis, i * 360 / CIRPATTERN3_COUNT) for i in range(1, CIRPATTERN3_COUNT) if i not in (3, 7)], mode=Mode.SUBTRACT)


solid = part.part
